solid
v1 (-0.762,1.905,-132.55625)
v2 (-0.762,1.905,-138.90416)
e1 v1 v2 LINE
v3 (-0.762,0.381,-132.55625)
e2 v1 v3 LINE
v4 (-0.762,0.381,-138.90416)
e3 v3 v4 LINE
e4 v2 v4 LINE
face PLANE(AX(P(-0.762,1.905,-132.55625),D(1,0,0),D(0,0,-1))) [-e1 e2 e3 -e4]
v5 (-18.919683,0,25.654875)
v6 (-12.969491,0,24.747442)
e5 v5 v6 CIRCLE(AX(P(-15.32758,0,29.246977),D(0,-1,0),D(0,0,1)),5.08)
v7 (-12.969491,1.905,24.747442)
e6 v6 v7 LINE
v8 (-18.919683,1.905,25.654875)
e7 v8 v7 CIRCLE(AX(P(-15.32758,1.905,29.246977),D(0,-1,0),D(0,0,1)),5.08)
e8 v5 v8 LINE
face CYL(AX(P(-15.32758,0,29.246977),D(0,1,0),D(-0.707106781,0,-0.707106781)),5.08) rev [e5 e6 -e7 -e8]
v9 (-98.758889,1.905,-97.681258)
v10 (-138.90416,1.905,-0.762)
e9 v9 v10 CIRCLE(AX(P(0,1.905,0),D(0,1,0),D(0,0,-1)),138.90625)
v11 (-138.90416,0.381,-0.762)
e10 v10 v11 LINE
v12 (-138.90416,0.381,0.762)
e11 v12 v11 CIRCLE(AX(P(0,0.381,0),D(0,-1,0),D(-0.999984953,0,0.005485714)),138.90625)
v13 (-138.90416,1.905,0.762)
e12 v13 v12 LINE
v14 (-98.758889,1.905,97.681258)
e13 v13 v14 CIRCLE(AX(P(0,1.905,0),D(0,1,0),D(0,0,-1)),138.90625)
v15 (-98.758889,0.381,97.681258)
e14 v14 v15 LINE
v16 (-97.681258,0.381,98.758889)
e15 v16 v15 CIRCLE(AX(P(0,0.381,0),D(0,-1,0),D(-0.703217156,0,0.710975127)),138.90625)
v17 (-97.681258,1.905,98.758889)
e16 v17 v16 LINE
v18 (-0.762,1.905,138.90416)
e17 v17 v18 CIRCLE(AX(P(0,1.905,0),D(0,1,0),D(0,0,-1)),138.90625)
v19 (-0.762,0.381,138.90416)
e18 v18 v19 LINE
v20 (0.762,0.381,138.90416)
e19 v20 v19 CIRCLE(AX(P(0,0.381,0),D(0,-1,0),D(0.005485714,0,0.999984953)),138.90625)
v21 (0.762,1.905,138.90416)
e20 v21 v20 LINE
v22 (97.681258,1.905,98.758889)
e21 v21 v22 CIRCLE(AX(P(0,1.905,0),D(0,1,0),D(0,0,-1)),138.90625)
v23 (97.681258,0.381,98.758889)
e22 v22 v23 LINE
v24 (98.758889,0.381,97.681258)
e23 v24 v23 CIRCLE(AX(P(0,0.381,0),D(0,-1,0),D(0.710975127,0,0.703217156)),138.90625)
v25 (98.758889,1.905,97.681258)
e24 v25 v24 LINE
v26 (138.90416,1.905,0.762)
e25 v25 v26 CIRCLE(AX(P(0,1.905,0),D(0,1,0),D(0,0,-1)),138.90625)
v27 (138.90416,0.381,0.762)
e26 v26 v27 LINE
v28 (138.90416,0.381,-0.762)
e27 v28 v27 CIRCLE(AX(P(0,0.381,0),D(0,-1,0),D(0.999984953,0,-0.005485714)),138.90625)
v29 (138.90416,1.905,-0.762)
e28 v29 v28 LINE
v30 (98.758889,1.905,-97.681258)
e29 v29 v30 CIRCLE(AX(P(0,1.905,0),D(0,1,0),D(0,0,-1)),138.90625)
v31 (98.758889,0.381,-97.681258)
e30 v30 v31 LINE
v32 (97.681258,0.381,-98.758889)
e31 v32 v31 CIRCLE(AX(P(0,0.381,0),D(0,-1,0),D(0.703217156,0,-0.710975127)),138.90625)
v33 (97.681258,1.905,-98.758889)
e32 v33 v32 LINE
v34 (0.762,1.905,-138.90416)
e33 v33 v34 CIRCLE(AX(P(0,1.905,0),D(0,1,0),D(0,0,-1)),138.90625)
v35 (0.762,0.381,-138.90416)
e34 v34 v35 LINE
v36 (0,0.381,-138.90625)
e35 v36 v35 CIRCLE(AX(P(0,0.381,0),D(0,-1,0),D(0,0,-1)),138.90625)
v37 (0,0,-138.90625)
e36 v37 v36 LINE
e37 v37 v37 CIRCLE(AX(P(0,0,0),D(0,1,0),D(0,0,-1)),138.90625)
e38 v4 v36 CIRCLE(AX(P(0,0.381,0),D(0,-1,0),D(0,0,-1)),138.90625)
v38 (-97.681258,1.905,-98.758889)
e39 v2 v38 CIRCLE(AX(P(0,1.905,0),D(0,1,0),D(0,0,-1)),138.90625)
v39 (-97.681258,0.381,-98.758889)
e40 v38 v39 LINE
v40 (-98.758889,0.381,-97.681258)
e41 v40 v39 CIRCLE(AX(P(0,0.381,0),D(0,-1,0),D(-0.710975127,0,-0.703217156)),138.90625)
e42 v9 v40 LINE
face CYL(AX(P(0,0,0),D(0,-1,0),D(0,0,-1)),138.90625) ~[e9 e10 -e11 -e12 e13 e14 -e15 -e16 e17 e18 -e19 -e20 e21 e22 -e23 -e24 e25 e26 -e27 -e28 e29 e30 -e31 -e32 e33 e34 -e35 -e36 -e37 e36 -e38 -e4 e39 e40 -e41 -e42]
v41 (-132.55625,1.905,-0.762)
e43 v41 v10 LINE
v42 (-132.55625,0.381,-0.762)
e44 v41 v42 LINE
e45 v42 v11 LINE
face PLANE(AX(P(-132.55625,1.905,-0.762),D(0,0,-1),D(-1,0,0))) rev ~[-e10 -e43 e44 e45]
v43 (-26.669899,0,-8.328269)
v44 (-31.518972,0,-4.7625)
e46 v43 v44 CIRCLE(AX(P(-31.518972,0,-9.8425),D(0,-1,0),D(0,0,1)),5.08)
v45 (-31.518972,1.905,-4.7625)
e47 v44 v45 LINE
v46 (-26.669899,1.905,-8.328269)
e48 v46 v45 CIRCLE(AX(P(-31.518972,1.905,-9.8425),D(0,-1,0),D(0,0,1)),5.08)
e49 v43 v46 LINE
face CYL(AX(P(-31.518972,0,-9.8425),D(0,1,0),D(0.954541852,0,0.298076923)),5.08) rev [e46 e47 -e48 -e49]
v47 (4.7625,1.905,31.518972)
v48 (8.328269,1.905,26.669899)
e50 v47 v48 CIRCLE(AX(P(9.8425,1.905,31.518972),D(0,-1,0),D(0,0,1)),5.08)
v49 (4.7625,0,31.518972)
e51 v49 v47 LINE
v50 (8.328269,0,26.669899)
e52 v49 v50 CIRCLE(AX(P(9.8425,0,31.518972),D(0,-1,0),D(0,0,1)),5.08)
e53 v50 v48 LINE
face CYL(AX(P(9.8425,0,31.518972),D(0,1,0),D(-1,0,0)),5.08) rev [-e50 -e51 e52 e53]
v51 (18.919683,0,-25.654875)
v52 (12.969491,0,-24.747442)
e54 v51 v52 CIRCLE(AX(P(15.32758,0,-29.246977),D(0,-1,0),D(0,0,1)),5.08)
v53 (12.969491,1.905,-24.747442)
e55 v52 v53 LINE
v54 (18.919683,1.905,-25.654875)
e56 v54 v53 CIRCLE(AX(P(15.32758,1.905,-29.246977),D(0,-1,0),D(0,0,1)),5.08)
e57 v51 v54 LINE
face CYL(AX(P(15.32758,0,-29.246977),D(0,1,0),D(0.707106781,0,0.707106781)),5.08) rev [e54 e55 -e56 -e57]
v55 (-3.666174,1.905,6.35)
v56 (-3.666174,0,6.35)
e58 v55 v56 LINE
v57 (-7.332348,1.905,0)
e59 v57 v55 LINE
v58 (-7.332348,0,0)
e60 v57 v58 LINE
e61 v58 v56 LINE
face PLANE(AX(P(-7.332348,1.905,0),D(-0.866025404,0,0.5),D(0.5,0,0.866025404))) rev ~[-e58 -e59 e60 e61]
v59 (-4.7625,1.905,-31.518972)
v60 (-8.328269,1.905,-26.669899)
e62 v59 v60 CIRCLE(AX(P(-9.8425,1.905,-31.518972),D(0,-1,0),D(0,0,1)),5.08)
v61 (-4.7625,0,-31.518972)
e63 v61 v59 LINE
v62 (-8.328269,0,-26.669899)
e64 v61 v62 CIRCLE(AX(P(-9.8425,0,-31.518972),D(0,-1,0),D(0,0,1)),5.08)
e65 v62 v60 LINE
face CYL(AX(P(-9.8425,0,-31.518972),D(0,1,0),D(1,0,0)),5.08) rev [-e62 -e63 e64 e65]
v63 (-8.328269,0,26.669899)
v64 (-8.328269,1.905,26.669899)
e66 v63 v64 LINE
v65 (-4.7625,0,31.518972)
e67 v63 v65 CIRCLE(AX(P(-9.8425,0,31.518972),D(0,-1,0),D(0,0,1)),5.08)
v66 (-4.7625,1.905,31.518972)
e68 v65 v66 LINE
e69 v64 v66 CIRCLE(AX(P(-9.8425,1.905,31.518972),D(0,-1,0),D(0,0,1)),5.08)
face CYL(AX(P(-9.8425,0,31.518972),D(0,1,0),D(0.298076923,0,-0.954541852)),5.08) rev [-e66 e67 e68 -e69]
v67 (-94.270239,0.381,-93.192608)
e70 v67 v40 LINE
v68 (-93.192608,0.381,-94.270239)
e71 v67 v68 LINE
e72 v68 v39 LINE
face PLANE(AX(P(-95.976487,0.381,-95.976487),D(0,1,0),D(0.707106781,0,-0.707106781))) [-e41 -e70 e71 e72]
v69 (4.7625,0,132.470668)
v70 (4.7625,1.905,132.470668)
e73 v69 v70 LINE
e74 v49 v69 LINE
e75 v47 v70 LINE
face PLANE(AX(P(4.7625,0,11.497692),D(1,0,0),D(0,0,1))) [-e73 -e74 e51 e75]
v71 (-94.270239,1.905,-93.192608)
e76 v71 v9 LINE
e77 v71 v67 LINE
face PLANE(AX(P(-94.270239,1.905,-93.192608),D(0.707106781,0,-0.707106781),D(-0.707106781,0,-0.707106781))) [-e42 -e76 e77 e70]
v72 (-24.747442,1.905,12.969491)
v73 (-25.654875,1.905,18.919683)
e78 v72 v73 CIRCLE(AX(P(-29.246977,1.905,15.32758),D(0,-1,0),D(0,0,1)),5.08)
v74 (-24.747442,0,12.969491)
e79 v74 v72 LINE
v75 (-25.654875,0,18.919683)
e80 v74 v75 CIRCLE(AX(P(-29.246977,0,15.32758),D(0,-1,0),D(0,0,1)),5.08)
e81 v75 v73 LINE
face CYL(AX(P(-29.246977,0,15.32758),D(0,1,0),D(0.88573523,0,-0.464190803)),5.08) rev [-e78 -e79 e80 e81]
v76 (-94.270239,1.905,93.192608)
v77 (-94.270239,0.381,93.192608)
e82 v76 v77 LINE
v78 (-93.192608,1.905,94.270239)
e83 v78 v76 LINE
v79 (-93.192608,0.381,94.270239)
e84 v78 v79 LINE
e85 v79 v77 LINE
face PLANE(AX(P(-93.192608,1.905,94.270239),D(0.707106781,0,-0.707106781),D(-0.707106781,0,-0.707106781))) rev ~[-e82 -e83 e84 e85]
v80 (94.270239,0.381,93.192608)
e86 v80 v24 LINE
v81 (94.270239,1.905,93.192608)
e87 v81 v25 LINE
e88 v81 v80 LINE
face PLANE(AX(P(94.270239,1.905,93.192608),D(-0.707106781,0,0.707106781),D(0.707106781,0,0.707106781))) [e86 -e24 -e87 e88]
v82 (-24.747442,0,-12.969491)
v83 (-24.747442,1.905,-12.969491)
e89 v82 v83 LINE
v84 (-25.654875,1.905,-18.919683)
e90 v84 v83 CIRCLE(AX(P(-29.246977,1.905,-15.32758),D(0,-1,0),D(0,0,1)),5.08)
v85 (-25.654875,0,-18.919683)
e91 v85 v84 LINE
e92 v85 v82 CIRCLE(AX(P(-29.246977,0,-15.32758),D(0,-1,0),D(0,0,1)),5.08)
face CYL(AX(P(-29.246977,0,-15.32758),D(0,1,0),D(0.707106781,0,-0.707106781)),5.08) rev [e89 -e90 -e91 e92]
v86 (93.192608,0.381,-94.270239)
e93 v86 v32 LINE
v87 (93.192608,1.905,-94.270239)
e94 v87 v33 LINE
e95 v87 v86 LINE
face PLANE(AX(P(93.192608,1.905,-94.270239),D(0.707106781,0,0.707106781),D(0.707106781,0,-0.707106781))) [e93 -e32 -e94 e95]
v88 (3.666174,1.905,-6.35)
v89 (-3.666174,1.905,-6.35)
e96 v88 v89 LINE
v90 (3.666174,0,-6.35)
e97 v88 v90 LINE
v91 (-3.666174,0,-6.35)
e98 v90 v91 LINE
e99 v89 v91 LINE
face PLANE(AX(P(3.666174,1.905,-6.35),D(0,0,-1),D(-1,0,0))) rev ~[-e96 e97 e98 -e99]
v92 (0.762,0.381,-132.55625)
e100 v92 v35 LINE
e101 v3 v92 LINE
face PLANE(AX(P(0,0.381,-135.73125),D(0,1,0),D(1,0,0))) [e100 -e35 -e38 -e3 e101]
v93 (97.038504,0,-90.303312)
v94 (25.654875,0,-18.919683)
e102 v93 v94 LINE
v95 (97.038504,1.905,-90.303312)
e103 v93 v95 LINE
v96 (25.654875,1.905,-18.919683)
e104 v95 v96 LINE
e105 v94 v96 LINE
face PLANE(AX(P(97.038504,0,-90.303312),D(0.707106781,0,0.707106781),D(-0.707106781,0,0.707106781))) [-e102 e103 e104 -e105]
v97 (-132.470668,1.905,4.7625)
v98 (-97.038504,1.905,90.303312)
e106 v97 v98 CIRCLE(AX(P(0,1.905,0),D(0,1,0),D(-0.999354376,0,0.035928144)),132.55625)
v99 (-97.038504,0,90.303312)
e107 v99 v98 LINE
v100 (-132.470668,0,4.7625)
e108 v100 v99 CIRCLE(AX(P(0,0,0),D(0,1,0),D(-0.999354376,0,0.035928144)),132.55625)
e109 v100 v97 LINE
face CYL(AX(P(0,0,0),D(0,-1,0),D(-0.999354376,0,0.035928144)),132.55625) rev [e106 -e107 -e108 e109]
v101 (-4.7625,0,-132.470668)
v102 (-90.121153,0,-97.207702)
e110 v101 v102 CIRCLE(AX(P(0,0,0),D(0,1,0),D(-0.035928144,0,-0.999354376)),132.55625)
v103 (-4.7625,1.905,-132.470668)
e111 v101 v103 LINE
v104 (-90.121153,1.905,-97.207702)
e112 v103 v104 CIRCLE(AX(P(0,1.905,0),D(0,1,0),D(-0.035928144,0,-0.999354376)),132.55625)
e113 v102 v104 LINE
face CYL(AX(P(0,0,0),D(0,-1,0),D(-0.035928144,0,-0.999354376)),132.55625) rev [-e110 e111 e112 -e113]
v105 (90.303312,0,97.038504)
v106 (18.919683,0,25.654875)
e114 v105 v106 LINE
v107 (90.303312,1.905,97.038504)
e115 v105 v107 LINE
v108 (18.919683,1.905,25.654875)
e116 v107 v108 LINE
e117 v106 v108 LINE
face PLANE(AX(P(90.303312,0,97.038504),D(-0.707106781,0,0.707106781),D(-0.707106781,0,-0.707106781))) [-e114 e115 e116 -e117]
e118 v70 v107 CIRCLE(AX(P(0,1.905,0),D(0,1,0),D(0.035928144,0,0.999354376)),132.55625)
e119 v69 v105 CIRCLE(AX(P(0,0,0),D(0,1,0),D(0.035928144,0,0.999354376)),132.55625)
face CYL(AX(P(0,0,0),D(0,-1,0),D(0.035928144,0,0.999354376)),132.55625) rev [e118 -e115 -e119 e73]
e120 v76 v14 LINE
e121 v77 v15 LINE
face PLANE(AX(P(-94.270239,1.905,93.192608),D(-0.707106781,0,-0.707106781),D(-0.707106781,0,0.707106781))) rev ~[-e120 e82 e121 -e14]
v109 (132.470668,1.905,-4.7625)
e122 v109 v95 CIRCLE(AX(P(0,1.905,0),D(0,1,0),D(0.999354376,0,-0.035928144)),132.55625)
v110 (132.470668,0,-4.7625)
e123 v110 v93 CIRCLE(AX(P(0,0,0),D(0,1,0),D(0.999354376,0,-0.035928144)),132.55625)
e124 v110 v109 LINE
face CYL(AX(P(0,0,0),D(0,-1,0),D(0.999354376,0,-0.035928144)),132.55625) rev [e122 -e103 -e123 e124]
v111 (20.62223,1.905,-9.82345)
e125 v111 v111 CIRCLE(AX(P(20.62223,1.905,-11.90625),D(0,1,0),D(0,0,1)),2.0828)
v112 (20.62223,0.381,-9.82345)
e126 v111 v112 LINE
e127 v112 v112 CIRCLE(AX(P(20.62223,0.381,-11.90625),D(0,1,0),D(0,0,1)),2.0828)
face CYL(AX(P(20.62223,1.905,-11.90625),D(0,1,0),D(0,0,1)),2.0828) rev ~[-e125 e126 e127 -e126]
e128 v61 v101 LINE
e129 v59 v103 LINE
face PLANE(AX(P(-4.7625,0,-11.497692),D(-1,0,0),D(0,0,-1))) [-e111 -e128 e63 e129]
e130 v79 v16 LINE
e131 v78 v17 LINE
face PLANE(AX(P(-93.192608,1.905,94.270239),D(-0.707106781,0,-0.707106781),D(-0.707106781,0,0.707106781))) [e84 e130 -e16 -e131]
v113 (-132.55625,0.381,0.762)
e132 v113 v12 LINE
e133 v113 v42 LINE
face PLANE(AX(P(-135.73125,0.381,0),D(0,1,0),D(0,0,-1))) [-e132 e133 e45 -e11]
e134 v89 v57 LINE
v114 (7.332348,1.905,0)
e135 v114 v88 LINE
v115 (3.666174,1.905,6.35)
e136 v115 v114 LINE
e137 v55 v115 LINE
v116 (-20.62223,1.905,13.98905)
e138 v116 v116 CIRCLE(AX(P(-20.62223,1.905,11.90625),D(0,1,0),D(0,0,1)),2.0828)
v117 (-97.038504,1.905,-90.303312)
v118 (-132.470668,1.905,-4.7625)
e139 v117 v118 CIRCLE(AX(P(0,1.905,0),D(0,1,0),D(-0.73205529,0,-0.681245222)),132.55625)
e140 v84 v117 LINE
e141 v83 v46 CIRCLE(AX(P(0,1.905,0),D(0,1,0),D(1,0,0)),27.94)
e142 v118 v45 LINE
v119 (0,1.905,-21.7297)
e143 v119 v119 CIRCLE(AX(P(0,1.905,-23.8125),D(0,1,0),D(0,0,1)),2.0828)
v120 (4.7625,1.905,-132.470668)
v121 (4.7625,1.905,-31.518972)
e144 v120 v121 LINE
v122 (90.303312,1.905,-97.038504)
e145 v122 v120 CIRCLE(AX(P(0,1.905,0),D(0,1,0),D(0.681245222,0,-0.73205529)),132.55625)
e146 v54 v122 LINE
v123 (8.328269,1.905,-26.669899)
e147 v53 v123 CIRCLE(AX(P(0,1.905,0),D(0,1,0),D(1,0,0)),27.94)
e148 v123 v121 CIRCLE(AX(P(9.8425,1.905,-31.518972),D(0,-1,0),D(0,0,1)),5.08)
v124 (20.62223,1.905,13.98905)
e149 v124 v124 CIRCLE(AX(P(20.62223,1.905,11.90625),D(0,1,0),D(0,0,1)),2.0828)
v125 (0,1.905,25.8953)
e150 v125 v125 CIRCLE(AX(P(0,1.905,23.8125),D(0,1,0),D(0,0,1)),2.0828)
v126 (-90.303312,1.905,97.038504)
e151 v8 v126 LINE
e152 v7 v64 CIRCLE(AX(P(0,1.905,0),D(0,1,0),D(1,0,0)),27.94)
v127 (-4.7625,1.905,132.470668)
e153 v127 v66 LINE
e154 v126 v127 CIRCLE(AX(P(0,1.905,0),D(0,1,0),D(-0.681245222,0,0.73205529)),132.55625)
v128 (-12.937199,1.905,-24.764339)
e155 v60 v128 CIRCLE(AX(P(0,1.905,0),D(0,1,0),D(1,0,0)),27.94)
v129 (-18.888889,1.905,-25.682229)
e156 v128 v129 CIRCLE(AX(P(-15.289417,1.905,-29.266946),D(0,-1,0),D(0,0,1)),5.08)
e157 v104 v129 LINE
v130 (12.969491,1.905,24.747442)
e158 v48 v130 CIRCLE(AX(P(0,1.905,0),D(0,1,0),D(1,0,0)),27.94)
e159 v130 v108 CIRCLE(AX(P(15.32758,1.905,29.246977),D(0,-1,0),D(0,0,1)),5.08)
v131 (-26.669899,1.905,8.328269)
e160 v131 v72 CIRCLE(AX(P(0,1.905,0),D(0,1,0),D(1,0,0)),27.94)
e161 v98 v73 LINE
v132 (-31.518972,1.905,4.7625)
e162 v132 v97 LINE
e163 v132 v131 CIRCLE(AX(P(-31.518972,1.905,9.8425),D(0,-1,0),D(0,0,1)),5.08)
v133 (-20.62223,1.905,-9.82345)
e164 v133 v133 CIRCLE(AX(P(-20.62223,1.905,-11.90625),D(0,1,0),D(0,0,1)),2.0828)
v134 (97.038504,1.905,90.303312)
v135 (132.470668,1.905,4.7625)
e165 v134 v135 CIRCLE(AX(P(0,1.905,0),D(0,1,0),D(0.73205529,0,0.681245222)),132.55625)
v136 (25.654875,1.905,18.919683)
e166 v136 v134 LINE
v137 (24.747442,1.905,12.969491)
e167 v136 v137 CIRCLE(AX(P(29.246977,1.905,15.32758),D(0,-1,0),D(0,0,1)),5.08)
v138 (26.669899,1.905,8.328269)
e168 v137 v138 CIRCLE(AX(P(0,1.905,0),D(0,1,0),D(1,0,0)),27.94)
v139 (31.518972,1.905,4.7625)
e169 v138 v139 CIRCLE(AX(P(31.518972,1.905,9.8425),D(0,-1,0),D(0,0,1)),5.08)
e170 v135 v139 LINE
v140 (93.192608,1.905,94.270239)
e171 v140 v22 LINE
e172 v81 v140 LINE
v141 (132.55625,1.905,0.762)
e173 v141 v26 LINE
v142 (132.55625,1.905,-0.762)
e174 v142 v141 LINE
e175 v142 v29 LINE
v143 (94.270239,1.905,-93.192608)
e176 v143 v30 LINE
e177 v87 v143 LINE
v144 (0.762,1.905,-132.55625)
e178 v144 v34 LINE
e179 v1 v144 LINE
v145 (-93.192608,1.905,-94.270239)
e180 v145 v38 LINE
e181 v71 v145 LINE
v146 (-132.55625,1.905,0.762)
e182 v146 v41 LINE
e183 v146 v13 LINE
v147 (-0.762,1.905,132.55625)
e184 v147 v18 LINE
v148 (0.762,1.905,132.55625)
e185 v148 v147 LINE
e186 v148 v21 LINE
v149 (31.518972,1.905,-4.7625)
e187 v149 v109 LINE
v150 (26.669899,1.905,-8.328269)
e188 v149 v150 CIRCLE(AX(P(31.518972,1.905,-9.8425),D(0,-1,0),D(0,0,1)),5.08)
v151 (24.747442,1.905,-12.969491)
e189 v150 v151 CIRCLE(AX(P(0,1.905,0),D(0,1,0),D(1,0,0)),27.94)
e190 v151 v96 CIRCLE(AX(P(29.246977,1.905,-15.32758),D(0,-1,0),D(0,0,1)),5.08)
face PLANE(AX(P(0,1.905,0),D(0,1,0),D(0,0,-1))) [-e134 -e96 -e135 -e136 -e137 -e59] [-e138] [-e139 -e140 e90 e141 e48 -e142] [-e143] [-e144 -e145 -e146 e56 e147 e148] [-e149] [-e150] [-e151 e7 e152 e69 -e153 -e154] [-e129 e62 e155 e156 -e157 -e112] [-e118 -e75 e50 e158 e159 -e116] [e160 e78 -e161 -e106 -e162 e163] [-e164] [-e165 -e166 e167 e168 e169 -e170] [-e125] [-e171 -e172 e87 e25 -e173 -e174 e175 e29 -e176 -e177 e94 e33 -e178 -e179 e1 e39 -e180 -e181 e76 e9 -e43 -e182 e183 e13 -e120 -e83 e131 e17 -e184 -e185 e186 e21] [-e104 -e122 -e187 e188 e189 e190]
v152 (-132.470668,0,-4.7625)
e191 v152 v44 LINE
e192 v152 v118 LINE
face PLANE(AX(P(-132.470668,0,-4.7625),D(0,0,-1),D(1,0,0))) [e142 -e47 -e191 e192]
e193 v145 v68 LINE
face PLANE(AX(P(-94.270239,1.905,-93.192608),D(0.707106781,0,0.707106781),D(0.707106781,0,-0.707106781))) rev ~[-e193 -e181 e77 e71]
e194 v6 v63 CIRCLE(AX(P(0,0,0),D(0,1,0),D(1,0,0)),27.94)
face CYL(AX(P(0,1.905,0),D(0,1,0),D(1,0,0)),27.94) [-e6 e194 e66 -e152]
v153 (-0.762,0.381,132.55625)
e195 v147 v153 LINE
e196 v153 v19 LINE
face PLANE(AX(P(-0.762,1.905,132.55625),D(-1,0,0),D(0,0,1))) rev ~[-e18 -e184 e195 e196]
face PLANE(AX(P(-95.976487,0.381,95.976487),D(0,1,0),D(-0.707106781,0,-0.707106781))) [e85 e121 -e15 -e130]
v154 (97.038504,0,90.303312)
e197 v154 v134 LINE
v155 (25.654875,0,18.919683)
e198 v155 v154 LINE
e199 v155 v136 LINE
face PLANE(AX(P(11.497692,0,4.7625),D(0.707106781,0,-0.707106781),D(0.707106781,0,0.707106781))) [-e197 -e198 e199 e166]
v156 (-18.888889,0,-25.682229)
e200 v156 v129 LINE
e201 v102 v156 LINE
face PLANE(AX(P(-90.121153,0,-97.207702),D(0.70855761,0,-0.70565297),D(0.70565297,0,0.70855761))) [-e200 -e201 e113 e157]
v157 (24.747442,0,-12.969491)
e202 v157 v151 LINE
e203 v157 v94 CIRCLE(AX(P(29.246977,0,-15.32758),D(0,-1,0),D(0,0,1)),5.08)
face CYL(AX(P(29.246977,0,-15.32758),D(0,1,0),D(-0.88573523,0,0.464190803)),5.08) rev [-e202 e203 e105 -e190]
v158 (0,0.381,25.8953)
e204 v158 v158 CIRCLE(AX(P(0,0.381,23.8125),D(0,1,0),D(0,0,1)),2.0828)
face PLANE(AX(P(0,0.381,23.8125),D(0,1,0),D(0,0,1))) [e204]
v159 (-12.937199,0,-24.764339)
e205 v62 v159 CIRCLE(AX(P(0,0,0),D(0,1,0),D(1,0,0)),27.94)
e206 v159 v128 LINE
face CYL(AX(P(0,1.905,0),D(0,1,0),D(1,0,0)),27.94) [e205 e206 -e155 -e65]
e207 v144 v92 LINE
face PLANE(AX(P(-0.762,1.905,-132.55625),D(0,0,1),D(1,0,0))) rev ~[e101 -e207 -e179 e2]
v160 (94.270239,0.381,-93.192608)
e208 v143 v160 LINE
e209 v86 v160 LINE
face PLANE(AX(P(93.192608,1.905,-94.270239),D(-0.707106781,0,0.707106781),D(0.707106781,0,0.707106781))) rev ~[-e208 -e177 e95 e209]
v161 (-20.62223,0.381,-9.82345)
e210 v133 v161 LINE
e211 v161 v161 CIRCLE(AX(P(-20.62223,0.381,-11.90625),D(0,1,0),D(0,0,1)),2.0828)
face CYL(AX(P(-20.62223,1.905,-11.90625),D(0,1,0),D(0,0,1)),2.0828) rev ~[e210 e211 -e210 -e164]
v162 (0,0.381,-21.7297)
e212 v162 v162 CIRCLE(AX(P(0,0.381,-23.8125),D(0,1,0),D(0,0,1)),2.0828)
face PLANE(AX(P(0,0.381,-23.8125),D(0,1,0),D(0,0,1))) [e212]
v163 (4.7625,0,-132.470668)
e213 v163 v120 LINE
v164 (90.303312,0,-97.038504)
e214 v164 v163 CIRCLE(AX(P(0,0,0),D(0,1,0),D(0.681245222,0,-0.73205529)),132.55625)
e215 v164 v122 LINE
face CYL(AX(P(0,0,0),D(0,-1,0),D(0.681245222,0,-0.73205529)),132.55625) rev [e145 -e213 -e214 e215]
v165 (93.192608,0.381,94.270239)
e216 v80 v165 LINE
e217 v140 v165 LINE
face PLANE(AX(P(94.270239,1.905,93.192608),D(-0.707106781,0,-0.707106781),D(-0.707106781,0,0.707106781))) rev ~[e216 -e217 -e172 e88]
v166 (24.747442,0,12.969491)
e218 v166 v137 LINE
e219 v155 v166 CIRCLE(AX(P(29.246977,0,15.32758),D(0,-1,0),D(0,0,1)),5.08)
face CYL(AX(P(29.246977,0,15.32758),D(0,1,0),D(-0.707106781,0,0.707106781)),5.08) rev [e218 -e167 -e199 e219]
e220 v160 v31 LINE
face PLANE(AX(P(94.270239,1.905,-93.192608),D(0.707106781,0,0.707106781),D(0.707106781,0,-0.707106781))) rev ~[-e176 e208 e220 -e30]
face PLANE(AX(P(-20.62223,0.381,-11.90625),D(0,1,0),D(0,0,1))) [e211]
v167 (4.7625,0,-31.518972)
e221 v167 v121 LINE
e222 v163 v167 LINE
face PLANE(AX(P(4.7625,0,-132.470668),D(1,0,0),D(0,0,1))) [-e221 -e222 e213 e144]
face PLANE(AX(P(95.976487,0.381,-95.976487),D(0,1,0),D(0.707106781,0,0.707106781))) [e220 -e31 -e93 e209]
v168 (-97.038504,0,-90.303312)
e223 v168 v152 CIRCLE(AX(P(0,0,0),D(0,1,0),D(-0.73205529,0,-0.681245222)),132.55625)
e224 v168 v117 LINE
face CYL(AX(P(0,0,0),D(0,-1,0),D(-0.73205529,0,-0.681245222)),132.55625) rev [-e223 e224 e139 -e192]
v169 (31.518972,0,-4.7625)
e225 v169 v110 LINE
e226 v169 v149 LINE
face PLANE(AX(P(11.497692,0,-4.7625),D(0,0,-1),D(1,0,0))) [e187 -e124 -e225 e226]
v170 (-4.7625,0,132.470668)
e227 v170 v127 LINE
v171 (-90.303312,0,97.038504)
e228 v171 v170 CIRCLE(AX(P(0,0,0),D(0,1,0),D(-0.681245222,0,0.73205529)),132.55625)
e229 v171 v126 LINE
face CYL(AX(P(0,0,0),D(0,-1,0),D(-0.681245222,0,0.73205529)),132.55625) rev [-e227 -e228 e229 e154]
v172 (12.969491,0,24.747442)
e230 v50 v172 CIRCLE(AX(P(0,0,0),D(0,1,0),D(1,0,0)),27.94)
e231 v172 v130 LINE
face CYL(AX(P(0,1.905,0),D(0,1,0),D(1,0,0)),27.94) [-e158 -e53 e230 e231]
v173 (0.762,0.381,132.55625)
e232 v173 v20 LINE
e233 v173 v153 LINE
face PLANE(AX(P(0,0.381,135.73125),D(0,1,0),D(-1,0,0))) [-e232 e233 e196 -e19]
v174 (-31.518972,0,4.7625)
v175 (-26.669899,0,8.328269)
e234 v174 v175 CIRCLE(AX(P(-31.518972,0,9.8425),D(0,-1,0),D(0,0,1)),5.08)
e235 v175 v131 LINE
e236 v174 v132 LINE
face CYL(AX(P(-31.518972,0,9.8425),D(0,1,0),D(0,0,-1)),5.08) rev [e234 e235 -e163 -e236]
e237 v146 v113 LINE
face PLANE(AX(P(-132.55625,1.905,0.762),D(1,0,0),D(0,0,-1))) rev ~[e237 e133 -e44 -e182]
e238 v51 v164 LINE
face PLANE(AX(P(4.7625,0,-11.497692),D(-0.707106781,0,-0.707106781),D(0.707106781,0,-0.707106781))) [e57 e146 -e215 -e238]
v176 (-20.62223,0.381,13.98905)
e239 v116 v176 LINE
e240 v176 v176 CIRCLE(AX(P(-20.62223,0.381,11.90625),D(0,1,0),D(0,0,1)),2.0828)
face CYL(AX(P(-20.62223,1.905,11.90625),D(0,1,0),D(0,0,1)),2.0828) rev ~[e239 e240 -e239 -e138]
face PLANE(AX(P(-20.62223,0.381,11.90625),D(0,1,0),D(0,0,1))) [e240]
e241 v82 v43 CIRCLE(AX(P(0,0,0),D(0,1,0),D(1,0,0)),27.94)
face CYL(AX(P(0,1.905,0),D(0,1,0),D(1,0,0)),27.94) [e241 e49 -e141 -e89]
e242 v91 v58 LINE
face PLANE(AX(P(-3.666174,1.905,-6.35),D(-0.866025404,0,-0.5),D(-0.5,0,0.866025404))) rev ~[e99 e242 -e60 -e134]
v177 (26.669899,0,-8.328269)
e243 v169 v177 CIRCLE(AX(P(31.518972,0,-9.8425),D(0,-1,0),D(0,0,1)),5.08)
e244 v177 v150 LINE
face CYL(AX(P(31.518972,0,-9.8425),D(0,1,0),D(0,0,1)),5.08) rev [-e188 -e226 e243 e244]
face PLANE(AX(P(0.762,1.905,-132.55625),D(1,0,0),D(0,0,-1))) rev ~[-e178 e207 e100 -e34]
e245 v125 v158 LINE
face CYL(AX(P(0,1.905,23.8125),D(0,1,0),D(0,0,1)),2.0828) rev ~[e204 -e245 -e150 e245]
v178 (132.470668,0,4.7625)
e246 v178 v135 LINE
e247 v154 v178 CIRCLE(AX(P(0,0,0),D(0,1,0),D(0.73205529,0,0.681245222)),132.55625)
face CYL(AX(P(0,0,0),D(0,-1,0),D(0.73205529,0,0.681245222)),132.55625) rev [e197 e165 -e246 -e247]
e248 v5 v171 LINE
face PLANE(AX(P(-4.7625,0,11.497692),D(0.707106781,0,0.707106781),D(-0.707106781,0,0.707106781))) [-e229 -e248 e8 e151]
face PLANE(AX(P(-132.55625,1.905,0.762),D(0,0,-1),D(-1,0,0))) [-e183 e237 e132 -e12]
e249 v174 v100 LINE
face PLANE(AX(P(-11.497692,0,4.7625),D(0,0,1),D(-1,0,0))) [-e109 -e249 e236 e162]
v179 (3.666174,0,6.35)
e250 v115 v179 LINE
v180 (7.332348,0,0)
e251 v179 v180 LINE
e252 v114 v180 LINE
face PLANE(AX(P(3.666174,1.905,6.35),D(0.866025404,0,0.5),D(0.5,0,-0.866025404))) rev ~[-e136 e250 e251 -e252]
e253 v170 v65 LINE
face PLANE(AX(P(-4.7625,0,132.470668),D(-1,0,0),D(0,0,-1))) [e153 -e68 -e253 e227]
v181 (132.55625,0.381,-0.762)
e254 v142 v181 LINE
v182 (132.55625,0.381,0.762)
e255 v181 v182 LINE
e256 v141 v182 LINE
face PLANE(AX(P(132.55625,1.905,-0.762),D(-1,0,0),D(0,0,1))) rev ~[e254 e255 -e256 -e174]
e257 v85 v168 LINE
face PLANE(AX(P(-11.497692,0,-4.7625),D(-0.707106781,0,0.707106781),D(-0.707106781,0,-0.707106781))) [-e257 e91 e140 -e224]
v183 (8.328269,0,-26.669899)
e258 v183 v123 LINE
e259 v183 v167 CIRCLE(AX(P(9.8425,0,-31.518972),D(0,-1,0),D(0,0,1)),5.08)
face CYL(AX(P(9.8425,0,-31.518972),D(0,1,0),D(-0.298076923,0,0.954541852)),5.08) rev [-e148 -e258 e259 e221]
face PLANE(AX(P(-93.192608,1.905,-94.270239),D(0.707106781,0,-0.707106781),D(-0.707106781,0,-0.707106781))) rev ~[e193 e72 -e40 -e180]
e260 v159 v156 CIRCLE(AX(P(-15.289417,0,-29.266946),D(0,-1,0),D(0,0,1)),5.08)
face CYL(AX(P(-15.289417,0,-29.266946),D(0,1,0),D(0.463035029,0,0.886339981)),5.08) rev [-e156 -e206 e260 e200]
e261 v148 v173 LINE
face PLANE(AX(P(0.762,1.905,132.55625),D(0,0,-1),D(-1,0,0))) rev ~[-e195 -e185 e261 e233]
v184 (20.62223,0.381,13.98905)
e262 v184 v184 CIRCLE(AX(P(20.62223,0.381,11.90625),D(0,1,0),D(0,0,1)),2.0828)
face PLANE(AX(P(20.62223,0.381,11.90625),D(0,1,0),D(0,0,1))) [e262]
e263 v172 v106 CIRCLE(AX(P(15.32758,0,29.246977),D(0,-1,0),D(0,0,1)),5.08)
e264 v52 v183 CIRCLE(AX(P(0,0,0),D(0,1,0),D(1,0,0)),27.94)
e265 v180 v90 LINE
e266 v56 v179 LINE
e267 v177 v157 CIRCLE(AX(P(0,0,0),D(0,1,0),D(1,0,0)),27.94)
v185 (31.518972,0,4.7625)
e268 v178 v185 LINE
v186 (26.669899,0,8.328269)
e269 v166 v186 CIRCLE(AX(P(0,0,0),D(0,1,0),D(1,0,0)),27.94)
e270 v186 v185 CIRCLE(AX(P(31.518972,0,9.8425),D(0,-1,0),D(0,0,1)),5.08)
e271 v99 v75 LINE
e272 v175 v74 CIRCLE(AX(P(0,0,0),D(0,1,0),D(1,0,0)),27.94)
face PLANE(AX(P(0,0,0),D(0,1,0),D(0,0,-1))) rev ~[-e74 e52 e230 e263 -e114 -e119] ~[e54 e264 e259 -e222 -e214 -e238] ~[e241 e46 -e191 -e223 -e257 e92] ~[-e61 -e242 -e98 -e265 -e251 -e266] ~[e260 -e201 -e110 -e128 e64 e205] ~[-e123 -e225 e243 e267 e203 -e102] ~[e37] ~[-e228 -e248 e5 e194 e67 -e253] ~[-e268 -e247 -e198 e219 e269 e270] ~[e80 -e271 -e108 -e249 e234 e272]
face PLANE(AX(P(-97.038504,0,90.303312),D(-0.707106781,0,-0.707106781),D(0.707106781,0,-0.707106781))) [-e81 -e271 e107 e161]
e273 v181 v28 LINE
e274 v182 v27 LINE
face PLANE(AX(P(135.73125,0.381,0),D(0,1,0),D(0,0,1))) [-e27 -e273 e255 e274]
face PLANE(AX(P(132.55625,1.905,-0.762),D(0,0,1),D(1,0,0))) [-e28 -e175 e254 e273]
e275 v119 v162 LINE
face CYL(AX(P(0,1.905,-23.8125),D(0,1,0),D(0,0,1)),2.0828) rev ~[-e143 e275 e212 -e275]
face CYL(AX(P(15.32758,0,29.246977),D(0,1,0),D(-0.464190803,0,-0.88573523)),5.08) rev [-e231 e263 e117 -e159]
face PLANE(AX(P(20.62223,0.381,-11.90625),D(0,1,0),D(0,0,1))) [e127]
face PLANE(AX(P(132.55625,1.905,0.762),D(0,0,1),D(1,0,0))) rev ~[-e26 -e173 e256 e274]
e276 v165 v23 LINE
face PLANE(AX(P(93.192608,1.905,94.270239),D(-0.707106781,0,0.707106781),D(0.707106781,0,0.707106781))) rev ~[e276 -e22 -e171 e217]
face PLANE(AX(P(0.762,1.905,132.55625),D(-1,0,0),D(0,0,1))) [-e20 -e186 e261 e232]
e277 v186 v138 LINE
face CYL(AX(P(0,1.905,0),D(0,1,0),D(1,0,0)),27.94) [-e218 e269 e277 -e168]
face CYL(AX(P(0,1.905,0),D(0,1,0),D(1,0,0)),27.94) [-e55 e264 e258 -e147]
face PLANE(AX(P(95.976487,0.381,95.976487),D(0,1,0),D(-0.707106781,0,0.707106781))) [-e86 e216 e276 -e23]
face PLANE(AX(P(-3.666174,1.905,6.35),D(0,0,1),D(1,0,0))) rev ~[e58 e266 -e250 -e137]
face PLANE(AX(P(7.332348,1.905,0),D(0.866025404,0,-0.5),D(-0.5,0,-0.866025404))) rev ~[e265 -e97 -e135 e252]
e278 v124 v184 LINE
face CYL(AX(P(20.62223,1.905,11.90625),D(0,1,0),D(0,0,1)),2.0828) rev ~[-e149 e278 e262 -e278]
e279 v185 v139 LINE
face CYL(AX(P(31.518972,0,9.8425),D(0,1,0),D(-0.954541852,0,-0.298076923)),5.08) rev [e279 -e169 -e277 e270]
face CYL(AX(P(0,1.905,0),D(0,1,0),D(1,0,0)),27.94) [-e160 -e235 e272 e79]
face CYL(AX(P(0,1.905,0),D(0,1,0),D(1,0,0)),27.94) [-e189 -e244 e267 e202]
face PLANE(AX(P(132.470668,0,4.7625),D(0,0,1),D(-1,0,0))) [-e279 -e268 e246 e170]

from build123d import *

# Parameters (mm, degrees)
SKETCH1_R           = 138.90625
BOSS_EXTRUDE1_DEPTH = 1.905
SKETCH2_R           = 27.94
BOSS_EXTRUDE2_DEPTH = 1.905
SKETCH3_R           = 2.0828
CUT_EXTRUDE1_DEPTH  = 1.524
FILLET1_R           = 5.08
SKETCH4_W           = 1.524
SKETCH4_H           = 6.35
CUT_EXTRUDE2_DEPTH  = 1.524
CIRPATTERN1_COUNT   = 8
CUT_EXTRUDE3_DEPTH  = 197.452339266


with BuildPart() as part:
    # Sketch1 → Boss-Extrude1 (new body)
    with BuildSketch(Plane(origin=(0, 0, 0), x_dir=(1, 0, 0), z_dir=(0, 1, 0))):
        with Locations(Location((0, 0, 0), (0, 0, 90))):
            Circle(SKETCH1_R)
        with BuildLine():
            ThreePointArc((-97.038504037, 90.303311946), (-122.466006281, 50.727080731), (-132.470668481, 4.7625))
            Line((-132.470668481, 4.7625), (-11.497692091, 4.7625))
            Line((-11.497692091, 4.7625), (-97.038504037, 90.303311946))
        make_face(mode=Mode.SUBTRACT)
        with BuildLine():
            ThreePointArc((-132.470668481, -4.7625), (-122.466006281, -50.727080731), (-97.038504037, -90.303311946))
            Line((-97.038504037, -90.303311946), (-11.497692091, -4.7625))
            Line((-11.497692091, -4.7625), (-132.470668481, -4.7625))
        make_face(mode=Mode.SUBTRACT)
        with BuildLine():
            ThreePointArc((-90.303311946, -97.038504037), (-50.727080731, -122.466006281), (-4.7625, -132.470668481))
            Line((-4.7625, -132.470668481), (-4.7625, -11.497692091))
            Line((-4.7625, -11.497692091), (-90.303311946, -97.038504037))
        make_face(mode=Mode.SUBTRACT)
        with BuildLine():
            ThreePointArc((4.7625, -132.470668481), (50.727080731, -122.466006281), (90.303311946, -97.038504037))
            Line((90.303311946, -97.038504037), (4.7625, -11.497692091))
            Line((4.7625, -11.497692091), (4.7625, -132.470668481))
        make_face(mode=Mode.SUBTRACT)
        with BuildLine():
            ThreePointArc((97.038504037, -90.303311946), (122.466006281, -50.727080731), (132.470668481, -4.7625))
            Line((132.470668481, -4.7625), (11.497692091, -4.7625))
            Line((11.497692091, -4.7625), (97.038504037, -90.303311946))
        make_face(mode=Mode.SUBTRACT)
        with BuildLine():
            ThreePointArc((132.470668481, 4.7625), (122.466006281, 50.727080731), (97.038504037, 90.303311946))
            Line((97.038504037, 90.303311946), (11.497692091, 4.7625))
            Line((11.497692091, 4.7625), (132.470668481, 4.7625))
        make_face(mode=Mode.SUBTRACT)
        with BuildLine():
            ThreePointArc((90.303311946, 97.038504037), (50.727080731, 122.466006281), (4.7625, 132.470668481))
            Line((4.7625, 132.470668481), (4.7625, 11.497692091))
            Line((4.7625, 11.497692091), (90.303311946, 97.038504037))
        make_face(mode=Mode.SUBTRACT)
        with BuildLine():
            ThreePointArc((-4.7625, 132.470668481), (-50.612212833, 122.513523034), (-90.121152576, 97.207701714))
            Line((-90.121152576, 97.207701714), (-4.7625, 11.497692091))
            Line((-4.7625, 11.497692091), (-4.7625, 132.470668481))
        make_face(mode=Mode.SUBTRACT)
    extrude(amount=BOSS_EXTRUDE1_DEPTH)

    # Sketch2 → Boss-Extrude2 (add)
    with BuildSketch(Plane(origin=(0, 1.905, 0), x_dir=(1, 0, 0), z_dir=(0, 1, 0))):
        Circle(SKETCH2_R)
    extrude(amount=-BOSS_EXTRUDE2_DEPTH)

    # Sketch3 → Cut-Extrude1 (cut)
    with BuildSketch(Plane(origin=(0, 1.905, 0), x_dir=(1, 0, 0), z_dir=(0, 1, 0))):
        with Locations(Location((0, 23.8125, 0), (0, 0, 270))):
            Circle(SKETCH3_R)
        with Locations(Location((20.622229928, 11.90625, 0), (0, 0, 270))):
            Circle(SKETCH3_R)
        with Locations(Location((20.622229928, -11.90625, 0), (0, 0, 270))):
            Circle(SKETCH3_R)
        with Locations(Location((0, -23.8125, 0), (0, 0, 270))):
            Circle(SKETCH3_R)
        with Locations(Location((-20.622229928, -11.90625, 0), (0, 0, 270))):
            Circle(SKETCH3_R)
        with Locations(Location((-20.622229928, 11.90625, 0), (0, 0, 270))):
            Circle(SKETCH3_R)
    extrude(amount=-CUT_EXTRUDE1_DEPTH, mode=Mode.SUBTRACT)

    # Fillet1
    fillet1_edges = [part.edges().sort_by_distance(p)[0] for p in [
        (-16.072522378, 0.9525, -22.854269282),
        (4.7625, 0.9525, -27.531113195),
        (22.835032879, 0.9525, -16.099840788),
        (27.531113195, 0.9525, 4.7625),
        (16.099840788, 0.9525, 22.835032879),
        (-4.7625, 0.9525, 27.531113195),
        (-22.835032879, 0.9525, 16.099840788),
        (-27.531113195, 0.9525, -4.7625),
        (-22.835032879, 0.9525, -16.099840788),
        (-4.7625, 0.9525, -27.531113195),
        (16.099840788, 0.9525, -22.835032879),
        (27.531113195, 0.9525, -4.7625),
        (22.835032879, 0.9525, 16.099840788),
        (4.7625, 0.9525, 27.531113195),
        (-16.099840788, 0.9525, 22.835032879),
        (-27.531113195, 0.9525, 4.7625),
    ]]
    fillet(fillet1_edges, radius=FILLET1_R)

    # Sketch4 → Cut-Extrude2 (cut)
    with BuildSketch(Plane(origin=(0, 1.905, 0), x_dir=(1, 0, 0), z_dir=(0, 1, 0))):
        with Locations((0, 135.73125)):
            Rectangle(SKETCH4_W, SKETCH4_H)
    cut_extrude2 = extrude(amount=-CUT_EXTRUDE2_DEPTH, mode=Mode.SUBTRACT)

    # CirPattern1: Cut-Extrude2 ×8 about axis
    cirpattern1_axis = Axis((0, 0, 0), (0, 1, 0))
    for i in range(1, CIRPATTERN1_COUNT):
        add(cut_extrude2.rotate(cirpattern1_axis, i * 360 / CIRPATTERN1_COUNT), mode=Mode.SUBTRACT)

    # Sketch5 → Cut-Extrude3 (cut, through all)
    with BuildSketch(Plane(origin=(0, 1.905, 0), x_dir=(1, 0, 0), z_dir=(0, 1, 0))):
        Polygon((3.666174209, 6.35), (-3.666174209, 6.35), (-7.332348419, 0), (-3.666174209, -6.35), (3.666174209, -6.35), (7.332348419, 0), align=None)
    extrude(amount=-CUT_EXTRUDE3_DEPTH, mode=Mode.SUBTRACT)


solid = part.part
